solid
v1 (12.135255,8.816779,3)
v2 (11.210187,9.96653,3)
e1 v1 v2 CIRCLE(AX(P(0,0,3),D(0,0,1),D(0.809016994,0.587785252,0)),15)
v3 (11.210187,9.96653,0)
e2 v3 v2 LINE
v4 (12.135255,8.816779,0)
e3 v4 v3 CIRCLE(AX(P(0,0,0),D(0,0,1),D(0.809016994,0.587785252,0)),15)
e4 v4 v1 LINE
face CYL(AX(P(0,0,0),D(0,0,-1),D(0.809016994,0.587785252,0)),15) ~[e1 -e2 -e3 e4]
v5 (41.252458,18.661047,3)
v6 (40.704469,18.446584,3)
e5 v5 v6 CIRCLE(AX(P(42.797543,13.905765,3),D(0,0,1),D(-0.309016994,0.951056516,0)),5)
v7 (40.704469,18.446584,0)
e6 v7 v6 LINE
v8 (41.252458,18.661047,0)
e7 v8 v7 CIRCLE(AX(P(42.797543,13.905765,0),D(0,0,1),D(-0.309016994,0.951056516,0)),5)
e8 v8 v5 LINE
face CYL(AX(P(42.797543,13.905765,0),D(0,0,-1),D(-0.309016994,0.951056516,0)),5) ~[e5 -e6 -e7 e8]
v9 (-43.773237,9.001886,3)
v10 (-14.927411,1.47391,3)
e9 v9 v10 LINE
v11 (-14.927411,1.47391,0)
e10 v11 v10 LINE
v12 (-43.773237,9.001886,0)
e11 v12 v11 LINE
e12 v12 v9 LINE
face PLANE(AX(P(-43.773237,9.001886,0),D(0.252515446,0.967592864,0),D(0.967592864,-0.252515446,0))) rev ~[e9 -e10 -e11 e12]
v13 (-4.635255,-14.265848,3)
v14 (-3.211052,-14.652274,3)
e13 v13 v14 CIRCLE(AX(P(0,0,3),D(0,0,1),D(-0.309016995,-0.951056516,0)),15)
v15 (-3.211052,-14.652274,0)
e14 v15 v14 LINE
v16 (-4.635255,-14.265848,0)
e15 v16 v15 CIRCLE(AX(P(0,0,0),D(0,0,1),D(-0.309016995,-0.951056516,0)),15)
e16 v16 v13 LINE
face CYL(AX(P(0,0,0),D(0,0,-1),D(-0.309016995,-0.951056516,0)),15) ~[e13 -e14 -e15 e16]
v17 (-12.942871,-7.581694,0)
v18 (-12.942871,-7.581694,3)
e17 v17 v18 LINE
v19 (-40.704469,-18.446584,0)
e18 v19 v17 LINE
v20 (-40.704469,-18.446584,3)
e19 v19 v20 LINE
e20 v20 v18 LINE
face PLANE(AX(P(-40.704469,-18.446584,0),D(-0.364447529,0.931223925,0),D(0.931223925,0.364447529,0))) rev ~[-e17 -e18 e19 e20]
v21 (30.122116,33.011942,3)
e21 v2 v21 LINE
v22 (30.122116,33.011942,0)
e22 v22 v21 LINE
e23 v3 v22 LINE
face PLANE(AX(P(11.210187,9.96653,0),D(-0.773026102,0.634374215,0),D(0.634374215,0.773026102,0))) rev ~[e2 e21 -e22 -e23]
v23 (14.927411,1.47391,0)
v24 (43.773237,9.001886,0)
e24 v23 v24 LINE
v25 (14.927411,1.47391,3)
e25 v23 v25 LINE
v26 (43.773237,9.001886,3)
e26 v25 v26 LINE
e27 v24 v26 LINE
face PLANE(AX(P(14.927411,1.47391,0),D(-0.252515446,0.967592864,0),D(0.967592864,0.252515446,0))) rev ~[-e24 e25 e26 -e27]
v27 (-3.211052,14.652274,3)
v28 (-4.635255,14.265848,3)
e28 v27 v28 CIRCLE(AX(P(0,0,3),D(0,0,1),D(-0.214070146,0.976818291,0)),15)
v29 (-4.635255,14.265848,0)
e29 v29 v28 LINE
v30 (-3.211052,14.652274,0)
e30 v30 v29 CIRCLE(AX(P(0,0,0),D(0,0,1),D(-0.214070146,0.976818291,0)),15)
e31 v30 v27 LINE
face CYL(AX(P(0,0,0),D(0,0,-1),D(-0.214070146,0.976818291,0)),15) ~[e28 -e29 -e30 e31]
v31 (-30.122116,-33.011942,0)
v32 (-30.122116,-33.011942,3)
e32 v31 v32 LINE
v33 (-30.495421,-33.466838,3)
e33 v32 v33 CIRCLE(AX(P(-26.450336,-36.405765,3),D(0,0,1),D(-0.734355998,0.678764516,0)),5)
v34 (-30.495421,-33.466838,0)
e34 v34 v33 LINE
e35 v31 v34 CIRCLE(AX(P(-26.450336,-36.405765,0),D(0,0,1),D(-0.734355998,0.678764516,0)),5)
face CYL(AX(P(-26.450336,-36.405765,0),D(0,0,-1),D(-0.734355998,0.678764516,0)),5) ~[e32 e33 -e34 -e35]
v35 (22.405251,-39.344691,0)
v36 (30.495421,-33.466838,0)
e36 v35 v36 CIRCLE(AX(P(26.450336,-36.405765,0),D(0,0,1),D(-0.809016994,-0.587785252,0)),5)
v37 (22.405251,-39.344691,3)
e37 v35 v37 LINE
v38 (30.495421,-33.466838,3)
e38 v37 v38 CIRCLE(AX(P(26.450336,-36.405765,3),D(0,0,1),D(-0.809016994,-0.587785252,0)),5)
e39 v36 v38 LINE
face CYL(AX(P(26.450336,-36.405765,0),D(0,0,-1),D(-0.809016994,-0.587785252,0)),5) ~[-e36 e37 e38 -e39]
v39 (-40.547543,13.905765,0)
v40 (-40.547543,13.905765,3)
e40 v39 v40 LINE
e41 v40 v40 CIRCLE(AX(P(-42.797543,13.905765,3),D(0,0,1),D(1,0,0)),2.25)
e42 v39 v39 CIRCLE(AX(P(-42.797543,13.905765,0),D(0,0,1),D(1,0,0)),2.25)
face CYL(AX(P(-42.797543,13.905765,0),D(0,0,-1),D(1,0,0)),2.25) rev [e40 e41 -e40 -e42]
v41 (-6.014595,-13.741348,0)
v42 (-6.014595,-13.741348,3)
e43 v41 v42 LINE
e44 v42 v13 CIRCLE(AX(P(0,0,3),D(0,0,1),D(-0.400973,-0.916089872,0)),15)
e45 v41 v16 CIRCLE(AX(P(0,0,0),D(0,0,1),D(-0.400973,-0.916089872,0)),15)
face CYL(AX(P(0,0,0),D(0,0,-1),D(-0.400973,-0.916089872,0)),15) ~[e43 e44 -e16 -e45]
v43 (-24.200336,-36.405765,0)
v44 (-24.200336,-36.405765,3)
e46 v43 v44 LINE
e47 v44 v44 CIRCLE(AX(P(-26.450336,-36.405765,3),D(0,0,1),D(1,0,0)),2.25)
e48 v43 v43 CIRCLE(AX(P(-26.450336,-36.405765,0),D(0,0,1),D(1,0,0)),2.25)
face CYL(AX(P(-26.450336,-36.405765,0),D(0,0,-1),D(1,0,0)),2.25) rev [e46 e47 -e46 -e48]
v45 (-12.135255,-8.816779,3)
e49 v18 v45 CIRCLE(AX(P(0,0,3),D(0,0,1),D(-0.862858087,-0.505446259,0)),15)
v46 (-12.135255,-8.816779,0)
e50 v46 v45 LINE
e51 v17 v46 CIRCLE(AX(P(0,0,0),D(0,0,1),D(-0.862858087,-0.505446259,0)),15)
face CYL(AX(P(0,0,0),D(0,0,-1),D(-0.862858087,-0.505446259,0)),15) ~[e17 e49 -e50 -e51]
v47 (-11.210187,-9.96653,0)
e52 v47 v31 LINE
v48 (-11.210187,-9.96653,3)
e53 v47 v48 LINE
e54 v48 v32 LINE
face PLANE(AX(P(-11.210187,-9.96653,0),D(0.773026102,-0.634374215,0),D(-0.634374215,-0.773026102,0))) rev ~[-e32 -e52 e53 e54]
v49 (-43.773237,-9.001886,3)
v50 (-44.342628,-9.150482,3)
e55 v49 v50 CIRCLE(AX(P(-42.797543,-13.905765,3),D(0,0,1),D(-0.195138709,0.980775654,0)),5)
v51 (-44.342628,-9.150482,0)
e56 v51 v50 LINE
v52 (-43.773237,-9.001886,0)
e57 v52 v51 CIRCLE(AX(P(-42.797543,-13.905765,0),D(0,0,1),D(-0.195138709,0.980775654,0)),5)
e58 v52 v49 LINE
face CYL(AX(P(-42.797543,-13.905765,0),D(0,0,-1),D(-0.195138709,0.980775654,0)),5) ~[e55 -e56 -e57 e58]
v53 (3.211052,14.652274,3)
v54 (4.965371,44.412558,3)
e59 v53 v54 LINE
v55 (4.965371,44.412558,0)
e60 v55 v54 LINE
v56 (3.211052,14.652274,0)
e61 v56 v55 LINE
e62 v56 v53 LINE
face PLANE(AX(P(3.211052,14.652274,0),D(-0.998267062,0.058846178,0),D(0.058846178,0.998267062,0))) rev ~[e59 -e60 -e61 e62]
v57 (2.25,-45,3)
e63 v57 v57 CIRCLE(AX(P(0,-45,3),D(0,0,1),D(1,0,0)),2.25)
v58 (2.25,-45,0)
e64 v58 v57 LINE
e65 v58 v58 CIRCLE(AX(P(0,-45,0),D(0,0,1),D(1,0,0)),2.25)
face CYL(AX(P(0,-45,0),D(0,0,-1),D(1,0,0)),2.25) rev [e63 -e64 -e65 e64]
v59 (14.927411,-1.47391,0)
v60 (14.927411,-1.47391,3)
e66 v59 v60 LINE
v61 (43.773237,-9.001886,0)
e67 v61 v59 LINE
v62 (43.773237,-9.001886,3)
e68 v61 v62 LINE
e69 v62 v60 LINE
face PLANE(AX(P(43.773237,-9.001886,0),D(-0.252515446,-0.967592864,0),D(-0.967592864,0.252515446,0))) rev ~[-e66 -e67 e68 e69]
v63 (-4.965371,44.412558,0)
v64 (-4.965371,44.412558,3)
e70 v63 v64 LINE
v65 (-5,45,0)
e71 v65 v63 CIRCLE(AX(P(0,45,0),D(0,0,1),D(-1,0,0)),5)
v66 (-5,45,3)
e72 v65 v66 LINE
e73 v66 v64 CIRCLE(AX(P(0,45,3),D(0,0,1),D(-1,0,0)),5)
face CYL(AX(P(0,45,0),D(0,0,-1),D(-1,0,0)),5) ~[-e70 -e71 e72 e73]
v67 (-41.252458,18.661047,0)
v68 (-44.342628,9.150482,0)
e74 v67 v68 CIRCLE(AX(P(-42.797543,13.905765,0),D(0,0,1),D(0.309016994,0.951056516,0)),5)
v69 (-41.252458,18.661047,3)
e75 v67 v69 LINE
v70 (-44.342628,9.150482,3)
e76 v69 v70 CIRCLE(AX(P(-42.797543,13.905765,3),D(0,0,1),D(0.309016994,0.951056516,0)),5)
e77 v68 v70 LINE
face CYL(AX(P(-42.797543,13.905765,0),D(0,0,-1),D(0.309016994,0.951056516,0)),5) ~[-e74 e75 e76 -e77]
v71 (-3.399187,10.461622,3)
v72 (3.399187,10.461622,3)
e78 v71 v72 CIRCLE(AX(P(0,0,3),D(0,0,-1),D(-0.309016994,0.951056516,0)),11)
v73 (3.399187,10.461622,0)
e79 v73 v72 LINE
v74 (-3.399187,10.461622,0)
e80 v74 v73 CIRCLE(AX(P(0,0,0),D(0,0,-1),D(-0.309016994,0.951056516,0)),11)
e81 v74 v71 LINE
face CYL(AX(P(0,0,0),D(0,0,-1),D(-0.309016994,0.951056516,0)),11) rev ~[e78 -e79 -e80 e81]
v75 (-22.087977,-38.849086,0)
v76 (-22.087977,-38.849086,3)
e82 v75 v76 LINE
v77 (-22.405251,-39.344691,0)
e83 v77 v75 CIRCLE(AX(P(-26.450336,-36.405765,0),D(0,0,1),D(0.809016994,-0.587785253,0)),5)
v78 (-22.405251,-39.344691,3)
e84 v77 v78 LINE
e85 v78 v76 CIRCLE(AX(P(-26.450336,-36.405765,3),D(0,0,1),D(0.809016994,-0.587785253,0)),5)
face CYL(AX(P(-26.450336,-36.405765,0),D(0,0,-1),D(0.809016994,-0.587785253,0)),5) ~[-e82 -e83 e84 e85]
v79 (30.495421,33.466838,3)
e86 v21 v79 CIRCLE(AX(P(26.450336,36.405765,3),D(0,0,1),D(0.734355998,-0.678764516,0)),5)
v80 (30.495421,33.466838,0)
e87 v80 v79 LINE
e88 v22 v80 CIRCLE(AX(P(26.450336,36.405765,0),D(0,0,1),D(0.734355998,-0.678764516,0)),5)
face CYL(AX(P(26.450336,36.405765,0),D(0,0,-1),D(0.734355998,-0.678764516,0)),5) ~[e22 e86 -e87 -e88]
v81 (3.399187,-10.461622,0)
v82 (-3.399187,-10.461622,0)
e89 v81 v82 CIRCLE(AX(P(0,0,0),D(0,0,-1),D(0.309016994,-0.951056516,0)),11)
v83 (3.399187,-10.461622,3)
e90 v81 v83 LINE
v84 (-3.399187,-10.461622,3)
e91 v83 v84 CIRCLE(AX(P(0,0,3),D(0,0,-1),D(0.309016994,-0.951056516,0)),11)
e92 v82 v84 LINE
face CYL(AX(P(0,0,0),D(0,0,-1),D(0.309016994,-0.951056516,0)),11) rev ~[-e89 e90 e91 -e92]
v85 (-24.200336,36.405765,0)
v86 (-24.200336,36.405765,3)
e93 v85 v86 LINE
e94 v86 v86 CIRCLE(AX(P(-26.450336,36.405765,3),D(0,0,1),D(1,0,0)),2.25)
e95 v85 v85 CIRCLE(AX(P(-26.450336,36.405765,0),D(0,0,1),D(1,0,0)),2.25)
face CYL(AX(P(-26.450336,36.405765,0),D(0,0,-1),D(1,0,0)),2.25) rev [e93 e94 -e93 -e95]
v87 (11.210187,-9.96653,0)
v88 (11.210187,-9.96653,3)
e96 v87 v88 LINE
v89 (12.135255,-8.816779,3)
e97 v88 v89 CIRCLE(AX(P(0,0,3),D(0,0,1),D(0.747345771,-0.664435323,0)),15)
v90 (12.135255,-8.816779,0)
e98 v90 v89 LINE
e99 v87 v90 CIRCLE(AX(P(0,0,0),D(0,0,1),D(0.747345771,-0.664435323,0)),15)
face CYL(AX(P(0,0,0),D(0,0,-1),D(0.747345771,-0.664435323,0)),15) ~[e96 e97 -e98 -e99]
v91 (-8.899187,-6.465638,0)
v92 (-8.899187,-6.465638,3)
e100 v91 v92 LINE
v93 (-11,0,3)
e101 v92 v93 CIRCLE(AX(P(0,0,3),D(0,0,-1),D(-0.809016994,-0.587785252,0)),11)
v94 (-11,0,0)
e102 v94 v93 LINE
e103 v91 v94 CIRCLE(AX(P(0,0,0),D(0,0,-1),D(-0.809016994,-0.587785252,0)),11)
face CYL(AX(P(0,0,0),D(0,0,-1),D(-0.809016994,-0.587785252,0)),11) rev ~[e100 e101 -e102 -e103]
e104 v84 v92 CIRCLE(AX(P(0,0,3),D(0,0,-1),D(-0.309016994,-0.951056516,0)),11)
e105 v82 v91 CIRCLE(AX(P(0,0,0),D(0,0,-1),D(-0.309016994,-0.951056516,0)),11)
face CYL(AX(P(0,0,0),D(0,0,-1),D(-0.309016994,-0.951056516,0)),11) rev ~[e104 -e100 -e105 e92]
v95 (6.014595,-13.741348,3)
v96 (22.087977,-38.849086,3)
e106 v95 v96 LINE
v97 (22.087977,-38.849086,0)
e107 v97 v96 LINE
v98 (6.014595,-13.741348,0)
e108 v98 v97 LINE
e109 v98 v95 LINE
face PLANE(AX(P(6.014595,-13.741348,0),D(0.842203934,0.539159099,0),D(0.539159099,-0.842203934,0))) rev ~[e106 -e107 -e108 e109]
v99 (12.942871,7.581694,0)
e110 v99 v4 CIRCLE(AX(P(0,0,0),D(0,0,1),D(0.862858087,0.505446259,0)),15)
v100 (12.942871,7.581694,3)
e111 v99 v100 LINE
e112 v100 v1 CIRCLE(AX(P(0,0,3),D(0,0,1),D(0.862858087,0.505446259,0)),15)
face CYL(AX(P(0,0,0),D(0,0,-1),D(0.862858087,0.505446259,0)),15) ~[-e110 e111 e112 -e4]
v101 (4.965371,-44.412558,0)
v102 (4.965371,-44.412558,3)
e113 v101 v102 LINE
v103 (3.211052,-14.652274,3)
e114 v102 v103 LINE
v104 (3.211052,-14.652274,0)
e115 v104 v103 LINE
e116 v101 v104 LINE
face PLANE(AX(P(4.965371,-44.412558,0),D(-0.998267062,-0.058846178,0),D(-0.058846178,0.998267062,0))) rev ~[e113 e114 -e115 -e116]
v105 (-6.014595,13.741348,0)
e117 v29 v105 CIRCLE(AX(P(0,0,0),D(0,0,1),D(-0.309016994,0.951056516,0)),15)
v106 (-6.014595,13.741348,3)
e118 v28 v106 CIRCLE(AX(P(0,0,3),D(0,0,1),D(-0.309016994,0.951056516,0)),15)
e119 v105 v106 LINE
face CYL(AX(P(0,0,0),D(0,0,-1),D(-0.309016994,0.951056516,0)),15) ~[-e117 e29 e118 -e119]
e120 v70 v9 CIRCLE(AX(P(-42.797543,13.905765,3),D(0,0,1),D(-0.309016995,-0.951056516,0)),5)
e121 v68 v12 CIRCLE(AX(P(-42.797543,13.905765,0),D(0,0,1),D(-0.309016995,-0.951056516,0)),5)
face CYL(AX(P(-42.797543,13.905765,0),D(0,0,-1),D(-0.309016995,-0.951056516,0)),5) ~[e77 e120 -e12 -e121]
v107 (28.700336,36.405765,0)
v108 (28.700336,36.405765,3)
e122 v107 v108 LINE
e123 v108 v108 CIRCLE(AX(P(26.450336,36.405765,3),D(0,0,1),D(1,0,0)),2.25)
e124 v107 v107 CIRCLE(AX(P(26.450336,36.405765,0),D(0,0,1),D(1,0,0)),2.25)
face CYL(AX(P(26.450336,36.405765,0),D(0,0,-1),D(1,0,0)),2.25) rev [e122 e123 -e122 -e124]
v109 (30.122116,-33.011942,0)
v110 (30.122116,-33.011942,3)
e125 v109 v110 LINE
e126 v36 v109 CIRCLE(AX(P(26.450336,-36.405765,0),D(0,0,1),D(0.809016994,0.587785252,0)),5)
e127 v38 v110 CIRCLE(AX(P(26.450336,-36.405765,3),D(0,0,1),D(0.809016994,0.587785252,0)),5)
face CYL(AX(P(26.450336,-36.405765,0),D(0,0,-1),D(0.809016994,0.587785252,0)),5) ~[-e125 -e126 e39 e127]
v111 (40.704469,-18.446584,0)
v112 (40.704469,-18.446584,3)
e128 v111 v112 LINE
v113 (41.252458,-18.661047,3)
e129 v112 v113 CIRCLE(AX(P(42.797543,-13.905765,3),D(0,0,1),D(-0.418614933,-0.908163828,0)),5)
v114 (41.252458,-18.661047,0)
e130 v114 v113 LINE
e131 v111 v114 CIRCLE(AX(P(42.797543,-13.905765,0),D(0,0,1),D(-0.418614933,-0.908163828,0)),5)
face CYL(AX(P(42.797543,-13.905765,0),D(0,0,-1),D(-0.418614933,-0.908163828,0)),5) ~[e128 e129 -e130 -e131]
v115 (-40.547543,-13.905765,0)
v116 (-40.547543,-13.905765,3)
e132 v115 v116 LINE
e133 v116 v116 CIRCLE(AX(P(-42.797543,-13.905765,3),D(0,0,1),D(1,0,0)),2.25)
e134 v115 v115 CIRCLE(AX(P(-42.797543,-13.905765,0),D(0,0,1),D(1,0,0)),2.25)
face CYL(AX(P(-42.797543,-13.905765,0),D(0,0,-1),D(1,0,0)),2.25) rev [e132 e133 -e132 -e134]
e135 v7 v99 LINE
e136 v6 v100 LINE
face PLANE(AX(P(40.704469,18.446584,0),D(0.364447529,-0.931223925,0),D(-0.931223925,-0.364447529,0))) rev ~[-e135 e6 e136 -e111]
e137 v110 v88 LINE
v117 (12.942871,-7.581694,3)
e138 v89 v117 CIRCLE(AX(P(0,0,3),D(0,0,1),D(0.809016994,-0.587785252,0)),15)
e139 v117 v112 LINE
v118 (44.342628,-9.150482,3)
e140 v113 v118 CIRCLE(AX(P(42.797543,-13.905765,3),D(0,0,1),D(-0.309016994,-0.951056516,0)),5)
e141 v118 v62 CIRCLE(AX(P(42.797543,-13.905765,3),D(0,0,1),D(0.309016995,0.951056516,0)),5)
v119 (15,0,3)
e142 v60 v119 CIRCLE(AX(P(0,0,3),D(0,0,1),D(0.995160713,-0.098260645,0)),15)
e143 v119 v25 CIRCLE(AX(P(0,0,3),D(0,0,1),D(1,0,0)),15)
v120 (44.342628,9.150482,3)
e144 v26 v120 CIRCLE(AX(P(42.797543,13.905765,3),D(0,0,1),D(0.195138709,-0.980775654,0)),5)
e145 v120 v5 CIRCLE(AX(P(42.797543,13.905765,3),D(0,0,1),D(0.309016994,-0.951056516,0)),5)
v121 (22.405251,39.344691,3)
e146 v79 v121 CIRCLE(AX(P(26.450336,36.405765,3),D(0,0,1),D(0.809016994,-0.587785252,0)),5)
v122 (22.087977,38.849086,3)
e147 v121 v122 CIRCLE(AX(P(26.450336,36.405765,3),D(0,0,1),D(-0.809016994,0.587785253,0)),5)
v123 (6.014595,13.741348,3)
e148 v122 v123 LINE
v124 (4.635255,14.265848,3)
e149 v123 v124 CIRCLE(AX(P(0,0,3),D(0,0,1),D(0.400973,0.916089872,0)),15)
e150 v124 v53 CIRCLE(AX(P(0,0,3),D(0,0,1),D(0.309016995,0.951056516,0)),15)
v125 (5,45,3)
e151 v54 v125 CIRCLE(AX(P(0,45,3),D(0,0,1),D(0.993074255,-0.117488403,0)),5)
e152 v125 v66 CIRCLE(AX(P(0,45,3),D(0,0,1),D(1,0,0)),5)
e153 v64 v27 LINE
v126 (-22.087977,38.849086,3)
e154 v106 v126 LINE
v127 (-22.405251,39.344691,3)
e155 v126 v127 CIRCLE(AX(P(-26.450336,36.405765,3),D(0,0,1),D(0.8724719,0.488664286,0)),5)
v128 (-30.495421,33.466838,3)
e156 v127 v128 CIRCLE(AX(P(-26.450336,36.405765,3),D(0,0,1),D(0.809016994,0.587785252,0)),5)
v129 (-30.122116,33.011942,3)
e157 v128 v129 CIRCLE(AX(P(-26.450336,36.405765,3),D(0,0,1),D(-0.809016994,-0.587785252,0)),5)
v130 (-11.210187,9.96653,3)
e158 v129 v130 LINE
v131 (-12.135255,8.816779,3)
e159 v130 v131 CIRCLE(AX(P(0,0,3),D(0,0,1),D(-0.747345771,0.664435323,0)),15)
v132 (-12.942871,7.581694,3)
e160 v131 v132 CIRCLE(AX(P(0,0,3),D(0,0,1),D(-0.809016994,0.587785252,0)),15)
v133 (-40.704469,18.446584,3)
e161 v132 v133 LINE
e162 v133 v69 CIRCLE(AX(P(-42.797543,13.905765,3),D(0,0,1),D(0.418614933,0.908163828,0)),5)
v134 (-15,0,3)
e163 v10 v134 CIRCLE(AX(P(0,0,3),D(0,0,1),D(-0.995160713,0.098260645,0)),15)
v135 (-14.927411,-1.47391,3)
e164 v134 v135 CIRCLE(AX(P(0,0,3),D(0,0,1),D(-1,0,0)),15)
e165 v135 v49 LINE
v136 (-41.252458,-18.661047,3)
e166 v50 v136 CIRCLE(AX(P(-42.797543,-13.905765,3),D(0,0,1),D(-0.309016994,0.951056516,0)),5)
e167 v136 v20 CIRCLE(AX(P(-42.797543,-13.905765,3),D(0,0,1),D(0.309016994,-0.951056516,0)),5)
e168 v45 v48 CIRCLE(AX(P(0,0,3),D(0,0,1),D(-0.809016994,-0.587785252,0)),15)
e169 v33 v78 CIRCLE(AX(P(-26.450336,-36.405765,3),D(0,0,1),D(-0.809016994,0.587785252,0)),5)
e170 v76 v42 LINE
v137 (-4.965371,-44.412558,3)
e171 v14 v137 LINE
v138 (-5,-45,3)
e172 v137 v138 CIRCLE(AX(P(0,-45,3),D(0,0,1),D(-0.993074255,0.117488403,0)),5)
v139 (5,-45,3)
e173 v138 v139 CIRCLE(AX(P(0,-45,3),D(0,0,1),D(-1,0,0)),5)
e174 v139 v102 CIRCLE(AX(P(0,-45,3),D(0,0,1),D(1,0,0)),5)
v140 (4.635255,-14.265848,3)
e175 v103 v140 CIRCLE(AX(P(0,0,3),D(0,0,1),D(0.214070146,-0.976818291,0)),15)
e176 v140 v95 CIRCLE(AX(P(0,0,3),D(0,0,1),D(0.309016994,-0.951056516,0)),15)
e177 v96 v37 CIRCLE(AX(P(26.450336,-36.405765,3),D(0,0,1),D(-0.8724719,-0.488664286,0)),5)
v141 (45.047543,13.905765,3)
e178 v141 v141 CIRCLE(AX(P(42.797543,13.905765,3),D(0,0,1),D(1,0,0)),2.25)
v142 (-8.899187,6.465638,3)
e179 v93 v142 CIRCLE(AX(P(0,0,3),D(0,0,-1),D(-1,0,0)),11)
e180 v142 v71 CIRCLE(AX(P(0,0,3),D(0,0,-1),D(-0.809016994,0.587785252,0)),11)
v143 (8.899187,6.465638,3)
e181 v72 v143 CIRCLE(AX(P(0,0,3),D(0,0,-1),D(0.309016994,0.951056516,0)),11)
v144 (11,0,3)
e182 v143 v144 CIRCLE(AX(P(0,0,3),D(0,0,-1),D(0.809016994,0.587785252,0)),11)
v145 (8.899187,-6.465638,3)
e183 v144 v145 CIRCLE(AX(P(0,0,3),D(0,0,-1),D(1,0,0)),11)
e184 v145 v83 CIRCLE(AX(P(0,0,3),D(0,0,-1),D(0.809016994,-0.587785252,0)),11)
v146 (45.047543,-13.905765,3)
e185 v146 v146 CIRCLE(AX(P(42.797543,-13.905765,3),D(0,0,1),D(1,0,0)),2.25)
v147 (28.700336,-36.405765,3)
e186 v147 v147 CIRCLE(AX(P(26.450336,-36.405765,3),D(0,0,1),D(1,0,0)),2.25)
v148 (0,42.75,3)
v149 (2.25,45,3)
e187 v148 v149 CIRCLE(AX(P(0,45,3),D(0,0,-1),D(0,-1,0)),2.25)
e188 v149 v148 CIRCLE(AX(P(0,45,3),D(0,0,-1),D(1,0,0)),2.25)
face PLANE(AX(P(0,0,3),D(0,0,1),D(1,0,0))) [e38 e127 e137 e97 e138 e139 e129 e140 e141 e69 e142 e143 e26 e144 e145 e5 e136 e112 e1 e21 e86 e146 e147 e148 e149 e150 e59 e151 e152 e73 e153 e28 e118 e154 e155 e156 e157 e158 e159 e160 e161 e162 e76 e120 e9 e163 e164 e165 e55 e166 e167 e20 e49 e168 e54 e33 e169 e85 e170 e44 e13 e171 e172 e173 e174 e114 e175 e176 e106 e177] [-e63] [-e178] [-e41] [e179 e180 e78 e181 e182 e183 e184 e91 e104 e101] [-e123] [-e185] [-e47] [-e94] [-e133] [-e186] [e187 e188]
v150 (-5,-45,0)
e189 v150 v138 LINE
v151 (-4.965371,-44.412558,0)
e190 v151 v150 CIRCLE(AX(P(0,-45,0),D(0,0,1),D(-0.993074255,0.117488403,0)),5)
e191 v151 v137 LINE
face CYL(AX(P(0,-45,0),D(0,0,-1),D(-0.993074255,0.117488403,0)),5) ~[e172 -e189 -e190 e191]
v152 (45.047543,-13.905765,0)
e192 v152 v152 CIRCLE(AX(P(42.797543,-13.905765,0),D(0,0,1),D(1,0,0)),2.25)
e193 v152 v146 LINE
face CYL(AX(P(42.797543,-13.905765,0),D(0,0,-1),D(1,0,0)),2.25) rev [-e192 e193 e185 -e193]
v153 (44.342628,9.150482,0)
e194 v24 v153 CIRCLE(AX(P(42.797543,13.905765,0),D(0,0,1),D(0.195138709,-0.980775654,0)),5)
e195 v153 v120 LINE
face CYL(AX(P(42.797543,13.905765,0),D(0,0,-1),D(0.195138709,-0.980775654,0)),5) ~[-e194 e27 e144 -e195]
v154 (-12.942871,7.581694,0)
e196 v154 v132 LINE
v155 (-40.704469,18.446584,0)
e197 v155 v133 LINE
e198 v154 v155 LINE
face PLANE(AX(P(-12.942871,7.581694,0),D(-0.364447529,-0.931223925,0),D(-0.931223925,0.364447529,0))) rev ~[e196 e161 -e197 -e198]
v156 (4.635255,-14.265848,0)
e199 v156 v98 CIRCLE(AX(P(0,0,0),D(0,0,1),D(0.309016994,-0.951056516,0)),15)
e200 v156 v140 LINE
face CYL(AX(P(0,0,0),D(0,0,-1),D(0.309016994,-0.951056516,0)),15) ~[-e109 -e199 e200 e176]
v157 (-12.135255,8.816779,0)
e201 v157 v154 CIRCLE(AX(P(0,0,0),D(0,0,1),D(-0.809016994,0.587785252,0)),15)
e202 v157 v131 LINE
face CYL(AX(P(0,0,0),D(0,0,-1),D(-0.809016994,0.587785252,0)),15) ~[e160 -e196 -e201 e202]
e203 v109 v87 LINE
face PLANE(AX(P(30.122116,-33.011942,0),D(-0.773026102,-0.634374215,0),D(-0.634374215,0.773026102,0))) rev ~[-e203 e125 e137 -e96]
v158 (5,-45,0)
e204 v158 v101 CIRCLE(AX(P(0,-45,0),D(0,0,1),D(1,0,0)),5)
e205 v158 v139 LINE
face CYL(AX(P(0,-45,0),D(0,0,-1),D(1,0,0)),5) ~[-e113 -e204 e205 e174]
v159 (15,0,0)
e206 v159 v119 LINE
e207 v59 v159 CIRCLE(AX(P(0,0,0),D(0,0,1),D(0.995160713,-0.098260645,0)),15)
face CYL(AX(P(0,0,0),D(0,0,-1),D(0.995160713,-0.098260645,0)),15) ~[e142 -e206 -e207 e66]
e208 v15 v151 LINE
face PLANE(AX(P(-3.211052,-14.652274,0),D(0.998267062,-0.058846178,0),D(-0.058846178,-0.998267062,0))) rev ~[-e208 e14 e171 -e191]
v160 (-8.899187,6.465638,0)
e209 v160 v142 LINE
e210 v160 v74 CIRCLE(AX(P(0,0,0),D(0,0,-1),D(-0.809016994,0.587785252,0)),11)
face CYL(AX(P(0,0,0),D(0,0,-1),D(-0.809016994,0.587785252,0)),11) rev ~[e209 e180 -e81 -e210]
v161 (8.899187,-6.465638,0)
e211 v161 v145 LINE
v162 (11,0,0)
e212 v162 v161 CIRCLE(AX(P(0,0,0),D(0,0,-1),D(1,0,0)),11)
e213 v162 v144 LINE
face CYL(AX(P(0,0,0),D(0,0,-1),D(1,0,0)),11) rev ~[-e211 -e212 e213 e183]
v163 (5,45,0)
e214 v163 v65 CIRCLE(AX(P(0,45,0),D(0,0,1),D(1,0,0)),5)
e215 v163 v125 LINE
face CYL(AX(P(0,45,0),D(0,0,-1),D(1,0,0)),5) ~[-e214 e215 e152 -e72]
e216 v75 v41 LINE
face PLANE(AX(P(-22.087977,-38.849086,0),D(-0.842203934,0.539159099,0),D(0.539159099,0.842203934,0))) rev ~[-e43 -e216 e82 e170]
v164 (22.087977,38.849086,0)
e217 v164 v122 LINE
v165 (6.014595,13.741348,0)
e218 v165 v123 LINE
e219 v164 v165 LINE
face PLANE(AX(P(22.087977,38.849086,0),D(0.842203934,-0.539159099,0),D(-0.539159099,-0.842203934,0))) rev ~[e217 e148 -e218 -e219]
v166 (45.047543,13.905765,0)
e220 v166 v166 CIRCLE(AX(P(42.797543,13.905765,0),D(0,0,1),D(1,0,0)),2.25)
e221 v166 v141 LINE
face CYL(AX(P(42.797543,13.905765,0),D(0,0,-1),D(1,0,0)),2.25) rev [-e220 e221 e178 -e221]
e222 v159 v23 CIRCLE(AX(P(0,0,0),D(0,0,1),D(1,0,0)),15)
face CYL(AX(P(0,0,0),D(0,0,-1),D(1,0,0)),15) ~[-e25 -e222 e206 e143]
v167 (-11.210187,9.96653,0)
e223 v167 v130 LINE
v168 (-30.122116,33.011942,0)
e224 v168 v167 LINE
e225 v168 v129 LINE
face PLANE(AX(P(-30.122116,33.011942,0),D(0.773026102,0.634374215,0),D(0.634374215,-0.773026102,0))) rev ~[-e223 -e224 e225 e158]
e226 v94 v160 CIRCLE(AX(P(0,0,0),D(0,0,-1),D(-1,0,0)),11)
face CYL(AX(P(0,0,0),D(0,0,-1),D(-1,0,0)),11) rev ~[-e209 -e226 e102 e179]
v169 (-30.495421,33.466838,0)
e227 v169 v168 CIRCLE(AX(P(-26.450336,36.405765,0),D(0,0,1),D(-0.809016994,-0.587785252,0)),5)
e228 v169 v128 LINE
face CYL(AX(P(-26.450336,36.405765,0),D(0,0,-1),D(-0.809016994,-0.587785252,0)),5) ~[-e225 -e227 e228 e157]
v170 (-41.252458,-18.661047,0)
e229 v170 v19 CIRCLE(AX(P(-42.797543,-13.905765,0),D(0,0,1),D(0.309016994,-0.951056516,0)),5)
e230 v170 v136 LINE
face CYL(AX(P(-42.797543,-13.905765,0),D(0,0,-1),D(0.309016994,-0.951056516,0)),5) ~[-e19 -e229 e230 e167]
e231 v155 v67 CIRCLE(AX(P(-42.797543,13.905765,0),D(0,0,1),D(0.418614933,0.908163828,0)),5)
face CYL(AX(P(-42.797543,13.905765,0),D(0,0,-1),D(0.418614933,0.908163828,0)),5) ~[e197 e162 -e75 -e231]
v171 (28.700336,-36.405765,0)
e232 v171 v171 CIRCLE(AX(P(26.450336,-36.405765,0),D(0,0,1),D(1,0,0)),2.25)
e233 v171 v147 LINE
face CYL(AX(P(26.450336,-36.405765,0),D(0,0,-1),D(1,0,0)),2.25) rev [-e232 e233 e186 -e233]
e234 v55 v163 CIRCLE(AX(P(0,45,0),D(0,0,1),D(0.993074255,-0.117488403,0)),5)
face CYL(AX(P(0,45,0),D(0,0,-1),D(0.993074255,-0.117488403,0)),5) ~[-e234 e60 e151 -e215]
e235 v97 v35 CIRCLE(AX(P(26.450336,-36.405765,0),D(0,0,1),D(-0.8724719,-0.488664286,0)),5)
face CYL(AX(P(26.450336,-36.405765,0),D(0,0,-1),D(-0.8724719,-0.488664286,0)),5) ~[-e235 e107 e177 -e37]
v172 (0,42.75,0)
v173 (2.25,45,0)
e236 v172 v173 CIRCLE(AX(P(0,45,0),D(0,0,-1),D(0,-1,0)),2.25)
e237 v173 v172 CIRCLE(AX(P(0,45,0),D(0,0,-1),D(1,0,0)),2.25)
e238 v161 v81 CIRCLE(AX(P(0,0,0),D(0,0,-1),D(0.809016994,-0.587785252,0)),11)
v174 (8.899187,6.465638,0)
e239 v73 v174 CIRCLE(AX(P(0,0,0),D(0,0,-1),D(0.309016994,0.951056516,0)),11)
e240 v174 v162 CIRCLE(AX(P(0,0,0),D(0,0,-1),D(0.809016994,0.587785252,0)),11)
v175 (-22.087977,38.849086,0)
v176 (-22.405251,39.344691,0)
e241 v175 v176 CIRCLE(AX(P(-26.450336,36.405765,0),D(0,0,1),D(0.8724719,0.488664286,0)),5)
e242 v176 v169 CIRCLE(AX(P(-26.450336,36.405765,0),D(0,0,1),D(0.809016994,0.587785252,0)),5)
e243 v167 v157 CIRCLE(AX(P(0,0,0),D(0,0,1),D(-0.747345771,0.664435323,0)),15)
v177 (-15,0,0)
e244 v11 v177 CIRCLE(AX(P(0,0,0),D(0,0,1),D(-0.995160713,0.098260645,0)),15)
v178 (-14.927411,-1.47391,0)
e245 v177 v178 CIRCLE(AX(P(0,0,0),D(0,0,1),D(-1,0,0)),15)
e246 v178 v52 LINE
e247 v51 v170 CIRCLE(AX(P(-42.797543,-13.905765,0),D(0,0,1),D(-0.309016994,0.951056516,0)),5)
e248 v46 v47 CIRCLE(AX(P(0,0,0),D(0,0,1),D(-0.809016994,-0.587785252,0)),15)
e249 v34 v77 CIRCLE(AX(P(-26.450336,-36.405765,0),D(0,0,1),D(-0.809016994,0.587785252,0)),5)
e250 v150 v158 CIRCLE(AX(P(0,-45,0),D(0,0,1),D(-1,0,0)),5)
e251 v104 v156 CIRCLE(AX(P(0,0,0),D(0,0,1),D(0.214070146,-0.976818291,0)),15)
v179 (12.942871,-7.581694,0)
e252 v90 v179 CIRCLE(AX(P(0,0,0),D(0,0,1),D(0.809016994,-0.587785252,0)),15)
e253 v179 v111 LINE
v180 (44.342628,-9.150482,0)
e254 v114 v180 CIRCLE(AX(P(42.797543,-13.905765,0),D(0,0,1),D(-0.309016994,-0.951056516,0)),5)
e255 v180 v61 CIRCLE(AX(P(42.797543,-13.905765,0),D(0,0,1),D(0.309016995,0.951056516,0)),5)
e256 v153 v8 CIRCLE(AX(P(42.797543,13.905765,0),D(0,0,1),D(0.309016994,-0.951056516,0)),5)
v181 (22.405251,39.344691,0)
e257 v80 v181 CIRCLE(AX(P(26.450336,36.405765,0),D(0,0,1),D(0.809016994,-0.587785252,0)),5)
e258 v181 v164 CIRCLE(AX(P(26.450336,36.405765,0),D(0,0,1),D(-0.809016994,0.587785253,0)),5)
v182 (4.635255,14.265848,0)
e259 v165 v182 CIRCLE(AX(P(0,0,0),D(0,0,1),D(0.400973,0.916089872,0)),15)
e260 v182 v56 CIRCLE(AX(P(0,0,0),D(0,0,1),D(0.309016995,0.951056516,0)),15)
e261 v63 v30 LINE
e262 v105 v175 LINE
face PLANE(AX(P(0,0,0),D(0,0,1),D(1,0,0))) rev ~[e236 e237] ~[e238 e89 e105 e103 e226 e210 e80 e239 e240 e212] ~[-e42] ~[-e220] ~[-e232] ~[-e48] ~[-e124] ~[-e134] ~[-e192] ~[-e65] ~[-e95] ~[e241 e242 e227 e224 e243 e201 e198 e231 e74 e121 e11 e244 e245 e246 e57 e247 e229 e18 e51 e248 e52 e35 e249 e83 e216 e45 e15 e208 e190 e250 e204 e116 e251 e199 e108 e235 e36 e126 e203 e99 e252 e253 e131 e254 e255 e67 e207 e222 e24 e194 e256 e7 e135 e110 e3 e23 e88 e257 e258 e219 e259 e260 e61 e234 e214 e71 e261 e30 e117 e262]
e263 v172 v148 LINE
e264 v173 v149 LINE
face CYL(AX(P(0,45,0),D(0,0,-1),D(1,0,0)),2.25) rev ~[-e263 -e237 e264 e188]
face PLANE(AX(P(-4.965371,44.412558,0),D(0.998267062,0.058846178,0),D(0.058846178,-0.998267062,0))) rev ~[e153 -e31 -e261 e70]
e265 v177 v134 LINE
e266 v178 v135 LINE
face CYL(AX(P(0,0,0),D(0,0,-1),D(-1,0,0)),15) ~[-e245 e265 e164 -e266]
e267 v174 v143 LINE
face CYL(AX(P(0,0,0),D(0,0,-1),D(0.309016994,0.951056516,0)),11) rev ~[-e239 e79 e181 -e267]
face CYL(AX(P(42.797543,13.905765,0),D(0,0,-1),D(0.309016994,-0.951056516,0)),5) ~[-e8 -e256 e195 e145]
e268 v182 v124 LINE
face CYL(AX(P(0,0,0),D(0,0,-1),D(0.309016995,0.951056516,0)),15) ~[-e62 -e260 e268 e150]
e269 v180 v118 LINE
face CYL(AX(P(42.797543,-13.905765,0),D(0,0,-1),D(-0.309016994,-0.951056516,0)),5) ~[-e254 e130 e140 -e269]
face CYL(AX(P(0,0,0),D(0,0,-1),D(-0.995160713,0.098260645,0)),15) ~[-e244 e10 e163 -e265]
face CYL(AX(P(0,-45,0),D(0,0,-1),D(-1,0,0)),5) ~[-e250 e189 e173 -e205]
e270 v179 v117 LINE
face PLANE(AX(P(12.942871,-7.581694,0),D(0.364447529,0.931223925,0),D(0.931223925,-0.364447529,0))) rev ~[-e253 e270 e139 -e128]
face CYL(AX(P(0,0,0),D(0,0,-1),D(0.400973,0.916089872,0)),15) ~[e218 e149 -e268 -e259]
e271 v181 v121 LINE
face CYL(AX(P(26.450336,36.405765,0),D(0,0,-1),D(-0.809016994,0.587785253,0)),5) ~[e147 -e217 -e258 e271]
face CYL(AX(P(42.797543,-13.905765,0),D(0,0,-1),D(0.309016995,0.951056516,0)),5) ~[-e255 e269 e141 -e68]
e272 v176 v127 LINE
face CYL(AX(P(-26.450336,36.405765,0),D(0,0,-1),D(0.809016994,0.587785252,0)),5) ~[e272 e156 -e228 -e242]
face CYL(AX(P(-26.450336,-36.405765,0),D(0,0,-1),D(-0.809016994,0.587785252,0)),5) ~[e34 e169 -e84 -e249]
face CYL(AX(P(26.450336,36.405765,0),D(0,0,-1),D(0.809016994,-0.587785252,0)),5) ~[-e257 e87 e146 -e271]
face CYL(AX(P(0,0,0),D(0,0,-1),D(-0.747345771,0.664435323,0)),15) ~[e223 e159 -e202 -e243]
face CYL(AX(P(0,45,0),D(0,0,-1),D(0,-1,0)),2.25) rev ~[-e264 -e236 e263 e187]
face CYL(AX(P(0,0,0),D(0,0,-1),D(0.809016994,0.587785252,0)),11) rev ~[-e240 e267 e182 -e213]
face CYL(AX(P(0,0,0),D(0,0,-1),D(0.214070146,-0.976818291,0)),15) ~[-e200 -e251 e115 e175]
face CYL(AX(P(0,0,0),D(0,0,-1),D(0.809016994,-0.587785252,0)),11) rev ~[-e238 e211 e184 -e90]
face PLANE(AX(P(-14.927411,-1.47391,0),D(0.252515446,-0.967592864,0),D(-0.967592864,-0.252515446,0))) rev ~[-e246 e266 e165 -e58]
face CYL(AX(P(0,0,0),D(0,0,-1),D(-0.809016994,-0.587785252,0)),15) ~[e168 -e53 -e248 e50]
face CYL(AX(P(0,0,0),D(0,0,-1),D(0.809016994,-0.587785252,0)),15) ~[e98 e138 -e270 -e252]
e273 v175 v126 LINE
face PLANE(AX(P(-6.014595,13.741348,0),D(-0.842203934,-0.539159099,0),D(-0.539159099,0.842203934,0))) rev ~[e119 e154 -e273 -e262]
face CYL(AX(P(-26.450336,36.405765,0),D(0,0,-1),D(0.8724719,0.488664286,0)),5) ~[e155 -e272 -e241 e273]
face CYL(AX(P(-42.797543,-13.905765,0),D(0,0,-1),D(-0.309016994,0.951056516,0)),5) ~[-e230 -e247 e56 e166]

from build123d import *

# Parameters (mm, degrees)
F0_R     = 2.25
F1_DEPTH = 3


with BuildPart() as f1:
    # F0 (on Top) → F1 (new body)
    with BuildSketch(Plane.XY):
        with BuildLine():
            Line((-4.9653712728, 44.4125579834), (-3.2110521862, 14.6522743578))
            ThreePointArc((-3.2110521862, 14.6522743578), (-3.9279084977, 14.4765857451), (-4.6352549156, 14.2658477444))
            ThreePointArc((-4.6352549156, 14.2658477444), (-5.3313788775, 14.0205705756), (-6.0145949916, 13.7413480811))
            Line((-6.0145949916, 13.7413480811), (-22.0879768561, 38.8490861785))
            Line((-22.0879768561, 38.8490861785), (-22.4052513813, 39.3446910083))
            ThreePointArc((-22.4052513813, 39.3446910083), (-29.3892626146, 40.4508497187), (-30.495421325, 33.4668384854))
            Line((-30.495421325, 33.4668384854), (-30.1221163423, 33.0119421659))
            Line((-30.1221163423, 33.0119421659), (-11.2101865686, 9.9665298423))
            ThreePointArc((-11.2101865686, 9.9665298423), (-11.6868683315, 9.403037201), (-12.1352549156, 8.8167787844))
            ThreePointArc((-12.1352549156, 8.8167787844), (-12.5542607284, 8.2091739879), (-12.9428713112, 7.5816938887))
            Line((-12.9428713112, 7.5816938887), (-40.7044685687, 18.4465838854))
            Line((-40.7044685687, 18.4465838854), (-41.2524582614, 18.6610473283))
            ThreePointArc((-41.2524582614, 18.6610473283), (-47.5528258148, 15.4508497187), (-44.3426282052, 9.1504821654))
            Line((-44.3426282052, 9.1504821654), (-43.7732367821, 9.0018864757))
            Line((-43.7732367821, 9.0018864757), (-14.9274107019, 1.4739096769))
            ThreePointArc((-14.9274107019, 1.4739096769), (-14.9818416847, 0.7378480436), (-15, 0))
            ThreePointArc((-15, 0), (-14.9818416847, -0.7378480436), (-14.9274107019, -1.4739096769))
            Line((-14.9274107019, -1.4739096769), (-43.7732367821, -9.0018864757))
            Line((-43.7732367821, -9.0018864757), (-44.3426282052, -9.1504821654))
            ThreePointArc((-44.3426282052, -9.1504821654), (-47.5528258148, -15.4508497187), (-41.2524582614, -18.6610473283))
            Line((-41.2524582614, -18.6610473283), (-40.7044685687, -18.4465838854))
            Line((-40.7044685687, -18.4465838854), (-12.9428713112, -7.5816938887))
            ThreePointArc((-12.9428713112, -7.5816938887), (-12.5542607284, -8.2091739879), (-12.1352549156, -8.8167787844))
            ThreePointArc((-12.1352549156, -8.8167787844), (-11.6868683315, -9.403037201), (-11.2101865686, -9.9665298423))
            Line((-11.2101865686, -9.9665298423), (-30.1221163423, -33.0119421659))
            Line((-30.1221163423, -33.0119421659), (-30.495421325, -33.4668384854))
            ThreePointArc((-30.495421325, -33.4668384854), (-29.3892626146, -40.4508497187), (-22.4052513813, -39.3446910083))
            Line((-22.4052513813, -39.3446910083), (-22.0879768561, -38.8490861785))
            Line((-22.0879768561, -38.8490861785), (-6.0145949916, -13.7413480811))
            ThreePointArc((-6.0145949916, -13.7413480811), (-5.3313788775, -14.0205705756), (-4.6352549156, -14.2658477444))
            ThreePointArc((-4.6352549156, -14.2658477444), (-3.9279084977, -14.4765857451), (-3.2110521862, -14.6522743578))
            Line((-3.2110521862, -14.6522743578), (-4.9653712728, -44.4125579834))
            Line((-4.9653712728, -44.4125579834), (-5, -45))
            ThreePointArc((-5, -45), (0, -50), (5, -45))
            Line((5, -45), (4.9653712728, -44.4125579834))
            Line((4.9653712728, -44.4125579834), (3.2110521862, -14.6522743578))
            ThreePointArc((3.2110521862, -14.6522743578), (3.9279084977, -14.4765857451), (4.6352549156, -14.2658477444))
            ThreePointArc((4.6352549156, -14.2658477444), (5.3313788775, -14.0205705756), (6.0145949916, -13.7413480811))
            Line((6.0145949916, -13.7413480811), (22.0879768561, -38.8490861785))
            Line((22.0879768561, -38.8490861785), (22.4052513813, -39.3446910083))
            ThreePointArc((22.4052513813, -39.3446910083), (29.3892626146, -40.4508497187), (30.495421325, -33.4668384854))
            Line((30.495421325, -33.4668384854), (30.1221163423, -33.0119421659))
            Line((30.1221163423, -33.0119421659), (11.2101865686, -9.9665298423))
            ThreePointArc((11.2101865686, -9.9665298423), (11.6868683315, -9.403037201), (12.1352549156, -8.8167787844))
            ThreePointArc((12.1352549156, -8.8167787844), (12.5542607284, -8.2091739879), (12.9428713112, -7.5816938887))
            Line((12.9428713112, -7.5816938887), (40.7044685687, -18.4465838854))
            Line((40.7044685687, -18.4465838854), (41.2524582614, -18.6610473283))
            ThreePointArc((41.2524582614, -18.6610473283), (47.5528258148, -15.4508497187), (44.3426282052, -9.1504821654))
            Line((44.3426282052, -9.1504821654), (43.7732367821, -9.0018864757))
            Line((43.7732367821, -9.0018864757), (14.9274107019, -1.4739096769))
            ThreePointArc((14.9274107019, -1.4739096769), (14.9818416847, -0.7378480436), (15, 0))
            ThreePointArc((15, 0), (14.9818416847, 0.7378480436), (14.9274107019, 1.4739096769))
            Line((14.9274107019, 1.4739096769), (43.7732367821, 9.0018864757))
            Line((43.7732367821, 9.0018864757), (44.3426282052, 9.1504821654))
            ThreePointArc((44.3426282052, 9.1504821654), (47.5528258148, 15.4508497187), (41.2524582614, 18.6610473283))
            Line((41.2524582614, 18.6610473283), (40.7044685687, 18.4465838854))
            Line((40.7044685687, 18.4465838854), (12.9428713112, 7.5816938887))
            ThreePointArc((12.9428713112, 7.5816938887), (12.5542607284, 8.2091739879), (12.1352549156, 8.8167787844))
            ThreePointArc((12.1352549156, 8.8167787844), (11.6868683315, 9.403037201), (11.2101865686, 9.9665298423))
            Line((11.2101865686, 9.9665298423), (30.1221163423, 33.0119421659))
            Line((30.1221163423, 33.0119421659), (30.495421325, 33.4668384854))
            ThreePointArc((30.495421325, 33.4668384854), (29.3892626146, 40.4508497187), (22.4052513813, 39.3446910083))
            Line((22.4052513813, 39.3446910083), (22.0879768561, 38.8490861785))
            Line((22.0879768561, 38.8490861785), (6.0145949916, 13.7413480811))
            ThreePointArc((6.0145949916, 13.7413480811), (5.3313788775, 14.0205705756), (4.6352549156, 14.2658477444))
            ThreePointArc((4.6352549156, 14.2658477444), (3.9279084977, 14.4765857451), (3.2110521862, 14.6522743578))
            Line((3.2110521862, 14.6522743578), (4.9653712728, 44.4125579834))
            Line((4.9653712728, 44.4125579834), (5, 45))
            ThreePointArc((5, 45), (0, 50), (-5, 45))
            Line((-5, 45), (-4.9653712728, 44.4125579834))
        make_face()
        with Locations((-26.4503363532, -36.4057647469)):
            Circle(F0_R, mode=Mode.SUBTRACT)
        with Locations((-42.7975432333, -13.9057647469)):
            Circle(F0_R, mode=Mode.SUBTRACT)
        with Locations((0, -45)):
            Circle(F0_R, mode=Mode.SUBTRACT)
        with Locations((26.4503363532, -36.4057647469)):
            Circle(F0_R, mode=Mode.SUBTRACT)
        with Locations((42.7975432333, -13.9057647469)):
            Circle(F0_R, mode=Mode.SUBTRACT)
        with Locations((-42.7975432333, 13.9057647469)):
            Circle(F0_R, mode=Mode.SUBTRACT)
        with Locations((-26.4503363532, 36.4057647469)):
            Circle(F0_R, mode=Mode.SUBTRACT)
        with BuildLine():
            ThreePointArc((-3.3991869381, 10.4616216792), (0, 11), (3.3991869381, 10.4616216792))
            ThreePointArc((3.3991869381, 10.4616216792), (6.4656377752, 8.8991869381), (8.8991869381, 6.4656377752))
            ThreePointArc((8.8991869381, 6.4656377752), (10.4616216792, 3.3991869381), (11, 0))
            ThreePointArc((11, 0), (10.4616216792, -3.3991869381), (8.8991869381, -6.4656377752))
            ThreePointArc((8.8991869381, -6.4656377752), (6.4656377752, -8.8991869381), (3.3991869381, -10.4616216792))
            ThreePointArc((3.3991869381, -10.4616216792), (0, -11), (-3.3991869381, -10.4616216792))
            ThreePointArc((-3.3991869381, -10.4616216792), (-6.4656377752, -8.8991869381), (-8.8991869381, -6.4656377752))
            ThreePointArc((-8.8991869381, -6.4656377752), (-10.4616216792, -3.3991869381), (-11, 0))
            ThreePointArc((-11, 0), (-10.4616216792, 3.3991869381), (-8.8991869381, 6.4656377752))
            ThreePointArc((-8.8991869381, 6.4656377752), (-6.4656377752, 8.8991869381), (-3.3991869381, 10.4616216792))
        make_face(mode=Mode.SUBTRACT)
        with Locations((42.7975432333, 13.9057647469)):
            Circle(F0_R, mode=Mode.SUBTRACT)
        with BuildLine():
            ThreePointArc((0, 42.75), (-1.5909902577, 46.5909902577), (2.25, 45))
            ThreePointArc((2.25, 45), (1.5909902577, 43.4090097423), (0, 42.75))
        make_face(mode=Mode.SUBTRACT)
        with Locations((26.4503363532, 36.4057647469)):
            Circle(F0_R, mode=Mode.SUBTRACT)
        with BuildLine():
            ThreePointArc((-5, 45), (-4.9913353105, 44.7057691078), (-4.9653712728, 44.4125579834))
            Line((-4.9653712728, 44.4125579834), (-5, 45))
        make_face()
        with BuildLine():
            Line((-22.4052513813, 39.3446910083), (-22.0879768561, 38.8490861785))
            ThreePointArc((-22.0879768561, 38.8490861785), (-22.2393166831, 39.1015602396), (-22.4052513813, 39.3446910083))
        make_face()
        with BuildLine():
            ThreePointArc((4.9653712728, 44.4125579834), (4.9913353105, 44.7057691078), (5, 45))
            Line((5, 45), (4.9653712728, 44.4125579834))
        make_face()
        with BuildLine():
            Line((-30.1221163423, 33.0119421659), (-30.495421325, 33.4668384854))
            ThreePointArc((-30.495421325, 33.4668384854), (-30.3154668648, 33.2338936701), (-30.1221163423, 33.0119421659))
        make_face()
        with BuildLine():
            ThreePointArc((22.4052513813, 39.3446910083), (22.2393166831, 39.1015602396), (22.0879768561, 38.8490861785))
            Line((22.0879768561, 38.8490861785), (22.4052513813, 39.3446910083))
        make_face()
        with BuildLine():
            Line((-41.2524582614, 18.6610473283), (-40.7044685687, 18.4465838854))
            ThreePointArc((-40.7044685687, 18.4465838854), (-40.9753055904, 18.561884373), (-41.2524582614, 18.6610473283))
        make_face()
        with BuildLine():
            ThreePointArc((30.1221163423, 33.0119421659), (30.3154668648, 33.2338936701), (30.495421325, 33.4668384854))
            Line((30.495421325, 33.4668384854), (30.1221163423, 33.0119421659))
        make_face()
        with BuildLine():
            Line((-43.7732367821, 9.0018864757), (-44.3426282052, 9.1504821654))
            ThreePointArc((-44.3426282052, 9.1504821654), (-44.0601204616, 9.0678004288), (-43.7732367821, 9.0018864757))
        make_face()
        with BuildLine():
            ThreePointArc((41.2524582614, 18.6610473283), (40.9753055904, 18.561884373), (40.7044685687, 18.4465838854))
            Line((40.7044685687, 18.4465838854), (41.2524582614, 18.6610473283))
        make_face()
        with BuildLine():
            Line((-44.3426282052, -9.1504821654), (-43.7732367821, -9.0018864757))
            ThreePointArc((-43.7732367821, -9.0018864757), (-44.0601204616, -9.0678004288), (-44.3426282052, -9.1504821654))
        make_face()
        with BuildLine():
            ThreePointArc((43.7732367821, 9.0018864757), (44.0601204616, 9.0678004288), (44.3426282052, 9.1504821654))
            Line((44.3426282052, 9.1504821654), (43.7732367821, 9.0018864757))
        make_face()
        with BuildLine():
            Line((-40.7044685687, -18.4465838854), (-41.2524582614, -18.6610473283))
            ThreePointArc((-41.2524582614, -18.6610473283), (-40.9753055904, -18.561884373), (-40.7044685687, -18.4465838854))
        make_face()
        with BuildLine():
            ThreePointArc((44.3426282052, -9.1504821654), (44.0601204616, -9.0678004288), (43.7732367821, -9.0018864757))
            Line((43.7732367821, -9.0018864757), (44.3426282052, -9.1504821654))
        make_face()
        with BuildLine():
            Line((-30.495421325, -33.4668384854), (-30.1221163423, -33.0119421659))
            ThreePointArc((-30.1221163423, -33.0119421659), (-30.3154668648, -33.2338936701), (-30.495421325, -33.4668384854))
        make_face()
        with BuildLine():
            ThreePointArc((40.7044685687, -18.4465838854), (40.9753055904, -18.561884373), (41.2524582614, -18.6610473283))
            Line((41.2524582614, -18.6610473283), (40.7044685687, -18.4465838854))
        make_face()
        with BuildLine():
            Line((-22.0879768561, -38.8490861785), (-22.4052513813, -39.3446910083))
            ThreePointArc((-22.4052513813, -39.3446910083), (-22.2393166831, -39.1015602396), (-22.0879768561, -38.8490861785))
        make_face()
        with BuildLine():
            ThreePointArc((30.495421325, -33.4668384854), (30.3154668648, -33.2338936701), (30.1221163423, -33.0119421659))
            Line((30.1221163423, -33.0119421659), (30.495421325, -33.4668384854))
        make_face()
        with BuildLine():
            Line((-5, -45), (-4.9653712728, -44.4125579834))
            ThreePointArc((-4.9653712728, -44.4125579834), (-4.9913353105, -44.7057691078), (-5, -45))
        make_face()
        with BuildLine():
            ThreePointArc((22.0879768561, -38.8490861785), (22.2393166831, -39.1015602396), (22.4052513813, -39.3446910083))
            Line((22.4052513813, -39.3446910083), (22.0879768561, -38.8490861785))
        make_face()
        with BuildLine():
            Line((4.9653712728, -44.4125579834), (5, -45))
            ThreePointArc((5, -45), (4.9913353105, -44.7057691078), (4.9653712728, -44.4125579834))
        make_face()
    extrude(amount=F1_DEPTH)


solid = f1.part
